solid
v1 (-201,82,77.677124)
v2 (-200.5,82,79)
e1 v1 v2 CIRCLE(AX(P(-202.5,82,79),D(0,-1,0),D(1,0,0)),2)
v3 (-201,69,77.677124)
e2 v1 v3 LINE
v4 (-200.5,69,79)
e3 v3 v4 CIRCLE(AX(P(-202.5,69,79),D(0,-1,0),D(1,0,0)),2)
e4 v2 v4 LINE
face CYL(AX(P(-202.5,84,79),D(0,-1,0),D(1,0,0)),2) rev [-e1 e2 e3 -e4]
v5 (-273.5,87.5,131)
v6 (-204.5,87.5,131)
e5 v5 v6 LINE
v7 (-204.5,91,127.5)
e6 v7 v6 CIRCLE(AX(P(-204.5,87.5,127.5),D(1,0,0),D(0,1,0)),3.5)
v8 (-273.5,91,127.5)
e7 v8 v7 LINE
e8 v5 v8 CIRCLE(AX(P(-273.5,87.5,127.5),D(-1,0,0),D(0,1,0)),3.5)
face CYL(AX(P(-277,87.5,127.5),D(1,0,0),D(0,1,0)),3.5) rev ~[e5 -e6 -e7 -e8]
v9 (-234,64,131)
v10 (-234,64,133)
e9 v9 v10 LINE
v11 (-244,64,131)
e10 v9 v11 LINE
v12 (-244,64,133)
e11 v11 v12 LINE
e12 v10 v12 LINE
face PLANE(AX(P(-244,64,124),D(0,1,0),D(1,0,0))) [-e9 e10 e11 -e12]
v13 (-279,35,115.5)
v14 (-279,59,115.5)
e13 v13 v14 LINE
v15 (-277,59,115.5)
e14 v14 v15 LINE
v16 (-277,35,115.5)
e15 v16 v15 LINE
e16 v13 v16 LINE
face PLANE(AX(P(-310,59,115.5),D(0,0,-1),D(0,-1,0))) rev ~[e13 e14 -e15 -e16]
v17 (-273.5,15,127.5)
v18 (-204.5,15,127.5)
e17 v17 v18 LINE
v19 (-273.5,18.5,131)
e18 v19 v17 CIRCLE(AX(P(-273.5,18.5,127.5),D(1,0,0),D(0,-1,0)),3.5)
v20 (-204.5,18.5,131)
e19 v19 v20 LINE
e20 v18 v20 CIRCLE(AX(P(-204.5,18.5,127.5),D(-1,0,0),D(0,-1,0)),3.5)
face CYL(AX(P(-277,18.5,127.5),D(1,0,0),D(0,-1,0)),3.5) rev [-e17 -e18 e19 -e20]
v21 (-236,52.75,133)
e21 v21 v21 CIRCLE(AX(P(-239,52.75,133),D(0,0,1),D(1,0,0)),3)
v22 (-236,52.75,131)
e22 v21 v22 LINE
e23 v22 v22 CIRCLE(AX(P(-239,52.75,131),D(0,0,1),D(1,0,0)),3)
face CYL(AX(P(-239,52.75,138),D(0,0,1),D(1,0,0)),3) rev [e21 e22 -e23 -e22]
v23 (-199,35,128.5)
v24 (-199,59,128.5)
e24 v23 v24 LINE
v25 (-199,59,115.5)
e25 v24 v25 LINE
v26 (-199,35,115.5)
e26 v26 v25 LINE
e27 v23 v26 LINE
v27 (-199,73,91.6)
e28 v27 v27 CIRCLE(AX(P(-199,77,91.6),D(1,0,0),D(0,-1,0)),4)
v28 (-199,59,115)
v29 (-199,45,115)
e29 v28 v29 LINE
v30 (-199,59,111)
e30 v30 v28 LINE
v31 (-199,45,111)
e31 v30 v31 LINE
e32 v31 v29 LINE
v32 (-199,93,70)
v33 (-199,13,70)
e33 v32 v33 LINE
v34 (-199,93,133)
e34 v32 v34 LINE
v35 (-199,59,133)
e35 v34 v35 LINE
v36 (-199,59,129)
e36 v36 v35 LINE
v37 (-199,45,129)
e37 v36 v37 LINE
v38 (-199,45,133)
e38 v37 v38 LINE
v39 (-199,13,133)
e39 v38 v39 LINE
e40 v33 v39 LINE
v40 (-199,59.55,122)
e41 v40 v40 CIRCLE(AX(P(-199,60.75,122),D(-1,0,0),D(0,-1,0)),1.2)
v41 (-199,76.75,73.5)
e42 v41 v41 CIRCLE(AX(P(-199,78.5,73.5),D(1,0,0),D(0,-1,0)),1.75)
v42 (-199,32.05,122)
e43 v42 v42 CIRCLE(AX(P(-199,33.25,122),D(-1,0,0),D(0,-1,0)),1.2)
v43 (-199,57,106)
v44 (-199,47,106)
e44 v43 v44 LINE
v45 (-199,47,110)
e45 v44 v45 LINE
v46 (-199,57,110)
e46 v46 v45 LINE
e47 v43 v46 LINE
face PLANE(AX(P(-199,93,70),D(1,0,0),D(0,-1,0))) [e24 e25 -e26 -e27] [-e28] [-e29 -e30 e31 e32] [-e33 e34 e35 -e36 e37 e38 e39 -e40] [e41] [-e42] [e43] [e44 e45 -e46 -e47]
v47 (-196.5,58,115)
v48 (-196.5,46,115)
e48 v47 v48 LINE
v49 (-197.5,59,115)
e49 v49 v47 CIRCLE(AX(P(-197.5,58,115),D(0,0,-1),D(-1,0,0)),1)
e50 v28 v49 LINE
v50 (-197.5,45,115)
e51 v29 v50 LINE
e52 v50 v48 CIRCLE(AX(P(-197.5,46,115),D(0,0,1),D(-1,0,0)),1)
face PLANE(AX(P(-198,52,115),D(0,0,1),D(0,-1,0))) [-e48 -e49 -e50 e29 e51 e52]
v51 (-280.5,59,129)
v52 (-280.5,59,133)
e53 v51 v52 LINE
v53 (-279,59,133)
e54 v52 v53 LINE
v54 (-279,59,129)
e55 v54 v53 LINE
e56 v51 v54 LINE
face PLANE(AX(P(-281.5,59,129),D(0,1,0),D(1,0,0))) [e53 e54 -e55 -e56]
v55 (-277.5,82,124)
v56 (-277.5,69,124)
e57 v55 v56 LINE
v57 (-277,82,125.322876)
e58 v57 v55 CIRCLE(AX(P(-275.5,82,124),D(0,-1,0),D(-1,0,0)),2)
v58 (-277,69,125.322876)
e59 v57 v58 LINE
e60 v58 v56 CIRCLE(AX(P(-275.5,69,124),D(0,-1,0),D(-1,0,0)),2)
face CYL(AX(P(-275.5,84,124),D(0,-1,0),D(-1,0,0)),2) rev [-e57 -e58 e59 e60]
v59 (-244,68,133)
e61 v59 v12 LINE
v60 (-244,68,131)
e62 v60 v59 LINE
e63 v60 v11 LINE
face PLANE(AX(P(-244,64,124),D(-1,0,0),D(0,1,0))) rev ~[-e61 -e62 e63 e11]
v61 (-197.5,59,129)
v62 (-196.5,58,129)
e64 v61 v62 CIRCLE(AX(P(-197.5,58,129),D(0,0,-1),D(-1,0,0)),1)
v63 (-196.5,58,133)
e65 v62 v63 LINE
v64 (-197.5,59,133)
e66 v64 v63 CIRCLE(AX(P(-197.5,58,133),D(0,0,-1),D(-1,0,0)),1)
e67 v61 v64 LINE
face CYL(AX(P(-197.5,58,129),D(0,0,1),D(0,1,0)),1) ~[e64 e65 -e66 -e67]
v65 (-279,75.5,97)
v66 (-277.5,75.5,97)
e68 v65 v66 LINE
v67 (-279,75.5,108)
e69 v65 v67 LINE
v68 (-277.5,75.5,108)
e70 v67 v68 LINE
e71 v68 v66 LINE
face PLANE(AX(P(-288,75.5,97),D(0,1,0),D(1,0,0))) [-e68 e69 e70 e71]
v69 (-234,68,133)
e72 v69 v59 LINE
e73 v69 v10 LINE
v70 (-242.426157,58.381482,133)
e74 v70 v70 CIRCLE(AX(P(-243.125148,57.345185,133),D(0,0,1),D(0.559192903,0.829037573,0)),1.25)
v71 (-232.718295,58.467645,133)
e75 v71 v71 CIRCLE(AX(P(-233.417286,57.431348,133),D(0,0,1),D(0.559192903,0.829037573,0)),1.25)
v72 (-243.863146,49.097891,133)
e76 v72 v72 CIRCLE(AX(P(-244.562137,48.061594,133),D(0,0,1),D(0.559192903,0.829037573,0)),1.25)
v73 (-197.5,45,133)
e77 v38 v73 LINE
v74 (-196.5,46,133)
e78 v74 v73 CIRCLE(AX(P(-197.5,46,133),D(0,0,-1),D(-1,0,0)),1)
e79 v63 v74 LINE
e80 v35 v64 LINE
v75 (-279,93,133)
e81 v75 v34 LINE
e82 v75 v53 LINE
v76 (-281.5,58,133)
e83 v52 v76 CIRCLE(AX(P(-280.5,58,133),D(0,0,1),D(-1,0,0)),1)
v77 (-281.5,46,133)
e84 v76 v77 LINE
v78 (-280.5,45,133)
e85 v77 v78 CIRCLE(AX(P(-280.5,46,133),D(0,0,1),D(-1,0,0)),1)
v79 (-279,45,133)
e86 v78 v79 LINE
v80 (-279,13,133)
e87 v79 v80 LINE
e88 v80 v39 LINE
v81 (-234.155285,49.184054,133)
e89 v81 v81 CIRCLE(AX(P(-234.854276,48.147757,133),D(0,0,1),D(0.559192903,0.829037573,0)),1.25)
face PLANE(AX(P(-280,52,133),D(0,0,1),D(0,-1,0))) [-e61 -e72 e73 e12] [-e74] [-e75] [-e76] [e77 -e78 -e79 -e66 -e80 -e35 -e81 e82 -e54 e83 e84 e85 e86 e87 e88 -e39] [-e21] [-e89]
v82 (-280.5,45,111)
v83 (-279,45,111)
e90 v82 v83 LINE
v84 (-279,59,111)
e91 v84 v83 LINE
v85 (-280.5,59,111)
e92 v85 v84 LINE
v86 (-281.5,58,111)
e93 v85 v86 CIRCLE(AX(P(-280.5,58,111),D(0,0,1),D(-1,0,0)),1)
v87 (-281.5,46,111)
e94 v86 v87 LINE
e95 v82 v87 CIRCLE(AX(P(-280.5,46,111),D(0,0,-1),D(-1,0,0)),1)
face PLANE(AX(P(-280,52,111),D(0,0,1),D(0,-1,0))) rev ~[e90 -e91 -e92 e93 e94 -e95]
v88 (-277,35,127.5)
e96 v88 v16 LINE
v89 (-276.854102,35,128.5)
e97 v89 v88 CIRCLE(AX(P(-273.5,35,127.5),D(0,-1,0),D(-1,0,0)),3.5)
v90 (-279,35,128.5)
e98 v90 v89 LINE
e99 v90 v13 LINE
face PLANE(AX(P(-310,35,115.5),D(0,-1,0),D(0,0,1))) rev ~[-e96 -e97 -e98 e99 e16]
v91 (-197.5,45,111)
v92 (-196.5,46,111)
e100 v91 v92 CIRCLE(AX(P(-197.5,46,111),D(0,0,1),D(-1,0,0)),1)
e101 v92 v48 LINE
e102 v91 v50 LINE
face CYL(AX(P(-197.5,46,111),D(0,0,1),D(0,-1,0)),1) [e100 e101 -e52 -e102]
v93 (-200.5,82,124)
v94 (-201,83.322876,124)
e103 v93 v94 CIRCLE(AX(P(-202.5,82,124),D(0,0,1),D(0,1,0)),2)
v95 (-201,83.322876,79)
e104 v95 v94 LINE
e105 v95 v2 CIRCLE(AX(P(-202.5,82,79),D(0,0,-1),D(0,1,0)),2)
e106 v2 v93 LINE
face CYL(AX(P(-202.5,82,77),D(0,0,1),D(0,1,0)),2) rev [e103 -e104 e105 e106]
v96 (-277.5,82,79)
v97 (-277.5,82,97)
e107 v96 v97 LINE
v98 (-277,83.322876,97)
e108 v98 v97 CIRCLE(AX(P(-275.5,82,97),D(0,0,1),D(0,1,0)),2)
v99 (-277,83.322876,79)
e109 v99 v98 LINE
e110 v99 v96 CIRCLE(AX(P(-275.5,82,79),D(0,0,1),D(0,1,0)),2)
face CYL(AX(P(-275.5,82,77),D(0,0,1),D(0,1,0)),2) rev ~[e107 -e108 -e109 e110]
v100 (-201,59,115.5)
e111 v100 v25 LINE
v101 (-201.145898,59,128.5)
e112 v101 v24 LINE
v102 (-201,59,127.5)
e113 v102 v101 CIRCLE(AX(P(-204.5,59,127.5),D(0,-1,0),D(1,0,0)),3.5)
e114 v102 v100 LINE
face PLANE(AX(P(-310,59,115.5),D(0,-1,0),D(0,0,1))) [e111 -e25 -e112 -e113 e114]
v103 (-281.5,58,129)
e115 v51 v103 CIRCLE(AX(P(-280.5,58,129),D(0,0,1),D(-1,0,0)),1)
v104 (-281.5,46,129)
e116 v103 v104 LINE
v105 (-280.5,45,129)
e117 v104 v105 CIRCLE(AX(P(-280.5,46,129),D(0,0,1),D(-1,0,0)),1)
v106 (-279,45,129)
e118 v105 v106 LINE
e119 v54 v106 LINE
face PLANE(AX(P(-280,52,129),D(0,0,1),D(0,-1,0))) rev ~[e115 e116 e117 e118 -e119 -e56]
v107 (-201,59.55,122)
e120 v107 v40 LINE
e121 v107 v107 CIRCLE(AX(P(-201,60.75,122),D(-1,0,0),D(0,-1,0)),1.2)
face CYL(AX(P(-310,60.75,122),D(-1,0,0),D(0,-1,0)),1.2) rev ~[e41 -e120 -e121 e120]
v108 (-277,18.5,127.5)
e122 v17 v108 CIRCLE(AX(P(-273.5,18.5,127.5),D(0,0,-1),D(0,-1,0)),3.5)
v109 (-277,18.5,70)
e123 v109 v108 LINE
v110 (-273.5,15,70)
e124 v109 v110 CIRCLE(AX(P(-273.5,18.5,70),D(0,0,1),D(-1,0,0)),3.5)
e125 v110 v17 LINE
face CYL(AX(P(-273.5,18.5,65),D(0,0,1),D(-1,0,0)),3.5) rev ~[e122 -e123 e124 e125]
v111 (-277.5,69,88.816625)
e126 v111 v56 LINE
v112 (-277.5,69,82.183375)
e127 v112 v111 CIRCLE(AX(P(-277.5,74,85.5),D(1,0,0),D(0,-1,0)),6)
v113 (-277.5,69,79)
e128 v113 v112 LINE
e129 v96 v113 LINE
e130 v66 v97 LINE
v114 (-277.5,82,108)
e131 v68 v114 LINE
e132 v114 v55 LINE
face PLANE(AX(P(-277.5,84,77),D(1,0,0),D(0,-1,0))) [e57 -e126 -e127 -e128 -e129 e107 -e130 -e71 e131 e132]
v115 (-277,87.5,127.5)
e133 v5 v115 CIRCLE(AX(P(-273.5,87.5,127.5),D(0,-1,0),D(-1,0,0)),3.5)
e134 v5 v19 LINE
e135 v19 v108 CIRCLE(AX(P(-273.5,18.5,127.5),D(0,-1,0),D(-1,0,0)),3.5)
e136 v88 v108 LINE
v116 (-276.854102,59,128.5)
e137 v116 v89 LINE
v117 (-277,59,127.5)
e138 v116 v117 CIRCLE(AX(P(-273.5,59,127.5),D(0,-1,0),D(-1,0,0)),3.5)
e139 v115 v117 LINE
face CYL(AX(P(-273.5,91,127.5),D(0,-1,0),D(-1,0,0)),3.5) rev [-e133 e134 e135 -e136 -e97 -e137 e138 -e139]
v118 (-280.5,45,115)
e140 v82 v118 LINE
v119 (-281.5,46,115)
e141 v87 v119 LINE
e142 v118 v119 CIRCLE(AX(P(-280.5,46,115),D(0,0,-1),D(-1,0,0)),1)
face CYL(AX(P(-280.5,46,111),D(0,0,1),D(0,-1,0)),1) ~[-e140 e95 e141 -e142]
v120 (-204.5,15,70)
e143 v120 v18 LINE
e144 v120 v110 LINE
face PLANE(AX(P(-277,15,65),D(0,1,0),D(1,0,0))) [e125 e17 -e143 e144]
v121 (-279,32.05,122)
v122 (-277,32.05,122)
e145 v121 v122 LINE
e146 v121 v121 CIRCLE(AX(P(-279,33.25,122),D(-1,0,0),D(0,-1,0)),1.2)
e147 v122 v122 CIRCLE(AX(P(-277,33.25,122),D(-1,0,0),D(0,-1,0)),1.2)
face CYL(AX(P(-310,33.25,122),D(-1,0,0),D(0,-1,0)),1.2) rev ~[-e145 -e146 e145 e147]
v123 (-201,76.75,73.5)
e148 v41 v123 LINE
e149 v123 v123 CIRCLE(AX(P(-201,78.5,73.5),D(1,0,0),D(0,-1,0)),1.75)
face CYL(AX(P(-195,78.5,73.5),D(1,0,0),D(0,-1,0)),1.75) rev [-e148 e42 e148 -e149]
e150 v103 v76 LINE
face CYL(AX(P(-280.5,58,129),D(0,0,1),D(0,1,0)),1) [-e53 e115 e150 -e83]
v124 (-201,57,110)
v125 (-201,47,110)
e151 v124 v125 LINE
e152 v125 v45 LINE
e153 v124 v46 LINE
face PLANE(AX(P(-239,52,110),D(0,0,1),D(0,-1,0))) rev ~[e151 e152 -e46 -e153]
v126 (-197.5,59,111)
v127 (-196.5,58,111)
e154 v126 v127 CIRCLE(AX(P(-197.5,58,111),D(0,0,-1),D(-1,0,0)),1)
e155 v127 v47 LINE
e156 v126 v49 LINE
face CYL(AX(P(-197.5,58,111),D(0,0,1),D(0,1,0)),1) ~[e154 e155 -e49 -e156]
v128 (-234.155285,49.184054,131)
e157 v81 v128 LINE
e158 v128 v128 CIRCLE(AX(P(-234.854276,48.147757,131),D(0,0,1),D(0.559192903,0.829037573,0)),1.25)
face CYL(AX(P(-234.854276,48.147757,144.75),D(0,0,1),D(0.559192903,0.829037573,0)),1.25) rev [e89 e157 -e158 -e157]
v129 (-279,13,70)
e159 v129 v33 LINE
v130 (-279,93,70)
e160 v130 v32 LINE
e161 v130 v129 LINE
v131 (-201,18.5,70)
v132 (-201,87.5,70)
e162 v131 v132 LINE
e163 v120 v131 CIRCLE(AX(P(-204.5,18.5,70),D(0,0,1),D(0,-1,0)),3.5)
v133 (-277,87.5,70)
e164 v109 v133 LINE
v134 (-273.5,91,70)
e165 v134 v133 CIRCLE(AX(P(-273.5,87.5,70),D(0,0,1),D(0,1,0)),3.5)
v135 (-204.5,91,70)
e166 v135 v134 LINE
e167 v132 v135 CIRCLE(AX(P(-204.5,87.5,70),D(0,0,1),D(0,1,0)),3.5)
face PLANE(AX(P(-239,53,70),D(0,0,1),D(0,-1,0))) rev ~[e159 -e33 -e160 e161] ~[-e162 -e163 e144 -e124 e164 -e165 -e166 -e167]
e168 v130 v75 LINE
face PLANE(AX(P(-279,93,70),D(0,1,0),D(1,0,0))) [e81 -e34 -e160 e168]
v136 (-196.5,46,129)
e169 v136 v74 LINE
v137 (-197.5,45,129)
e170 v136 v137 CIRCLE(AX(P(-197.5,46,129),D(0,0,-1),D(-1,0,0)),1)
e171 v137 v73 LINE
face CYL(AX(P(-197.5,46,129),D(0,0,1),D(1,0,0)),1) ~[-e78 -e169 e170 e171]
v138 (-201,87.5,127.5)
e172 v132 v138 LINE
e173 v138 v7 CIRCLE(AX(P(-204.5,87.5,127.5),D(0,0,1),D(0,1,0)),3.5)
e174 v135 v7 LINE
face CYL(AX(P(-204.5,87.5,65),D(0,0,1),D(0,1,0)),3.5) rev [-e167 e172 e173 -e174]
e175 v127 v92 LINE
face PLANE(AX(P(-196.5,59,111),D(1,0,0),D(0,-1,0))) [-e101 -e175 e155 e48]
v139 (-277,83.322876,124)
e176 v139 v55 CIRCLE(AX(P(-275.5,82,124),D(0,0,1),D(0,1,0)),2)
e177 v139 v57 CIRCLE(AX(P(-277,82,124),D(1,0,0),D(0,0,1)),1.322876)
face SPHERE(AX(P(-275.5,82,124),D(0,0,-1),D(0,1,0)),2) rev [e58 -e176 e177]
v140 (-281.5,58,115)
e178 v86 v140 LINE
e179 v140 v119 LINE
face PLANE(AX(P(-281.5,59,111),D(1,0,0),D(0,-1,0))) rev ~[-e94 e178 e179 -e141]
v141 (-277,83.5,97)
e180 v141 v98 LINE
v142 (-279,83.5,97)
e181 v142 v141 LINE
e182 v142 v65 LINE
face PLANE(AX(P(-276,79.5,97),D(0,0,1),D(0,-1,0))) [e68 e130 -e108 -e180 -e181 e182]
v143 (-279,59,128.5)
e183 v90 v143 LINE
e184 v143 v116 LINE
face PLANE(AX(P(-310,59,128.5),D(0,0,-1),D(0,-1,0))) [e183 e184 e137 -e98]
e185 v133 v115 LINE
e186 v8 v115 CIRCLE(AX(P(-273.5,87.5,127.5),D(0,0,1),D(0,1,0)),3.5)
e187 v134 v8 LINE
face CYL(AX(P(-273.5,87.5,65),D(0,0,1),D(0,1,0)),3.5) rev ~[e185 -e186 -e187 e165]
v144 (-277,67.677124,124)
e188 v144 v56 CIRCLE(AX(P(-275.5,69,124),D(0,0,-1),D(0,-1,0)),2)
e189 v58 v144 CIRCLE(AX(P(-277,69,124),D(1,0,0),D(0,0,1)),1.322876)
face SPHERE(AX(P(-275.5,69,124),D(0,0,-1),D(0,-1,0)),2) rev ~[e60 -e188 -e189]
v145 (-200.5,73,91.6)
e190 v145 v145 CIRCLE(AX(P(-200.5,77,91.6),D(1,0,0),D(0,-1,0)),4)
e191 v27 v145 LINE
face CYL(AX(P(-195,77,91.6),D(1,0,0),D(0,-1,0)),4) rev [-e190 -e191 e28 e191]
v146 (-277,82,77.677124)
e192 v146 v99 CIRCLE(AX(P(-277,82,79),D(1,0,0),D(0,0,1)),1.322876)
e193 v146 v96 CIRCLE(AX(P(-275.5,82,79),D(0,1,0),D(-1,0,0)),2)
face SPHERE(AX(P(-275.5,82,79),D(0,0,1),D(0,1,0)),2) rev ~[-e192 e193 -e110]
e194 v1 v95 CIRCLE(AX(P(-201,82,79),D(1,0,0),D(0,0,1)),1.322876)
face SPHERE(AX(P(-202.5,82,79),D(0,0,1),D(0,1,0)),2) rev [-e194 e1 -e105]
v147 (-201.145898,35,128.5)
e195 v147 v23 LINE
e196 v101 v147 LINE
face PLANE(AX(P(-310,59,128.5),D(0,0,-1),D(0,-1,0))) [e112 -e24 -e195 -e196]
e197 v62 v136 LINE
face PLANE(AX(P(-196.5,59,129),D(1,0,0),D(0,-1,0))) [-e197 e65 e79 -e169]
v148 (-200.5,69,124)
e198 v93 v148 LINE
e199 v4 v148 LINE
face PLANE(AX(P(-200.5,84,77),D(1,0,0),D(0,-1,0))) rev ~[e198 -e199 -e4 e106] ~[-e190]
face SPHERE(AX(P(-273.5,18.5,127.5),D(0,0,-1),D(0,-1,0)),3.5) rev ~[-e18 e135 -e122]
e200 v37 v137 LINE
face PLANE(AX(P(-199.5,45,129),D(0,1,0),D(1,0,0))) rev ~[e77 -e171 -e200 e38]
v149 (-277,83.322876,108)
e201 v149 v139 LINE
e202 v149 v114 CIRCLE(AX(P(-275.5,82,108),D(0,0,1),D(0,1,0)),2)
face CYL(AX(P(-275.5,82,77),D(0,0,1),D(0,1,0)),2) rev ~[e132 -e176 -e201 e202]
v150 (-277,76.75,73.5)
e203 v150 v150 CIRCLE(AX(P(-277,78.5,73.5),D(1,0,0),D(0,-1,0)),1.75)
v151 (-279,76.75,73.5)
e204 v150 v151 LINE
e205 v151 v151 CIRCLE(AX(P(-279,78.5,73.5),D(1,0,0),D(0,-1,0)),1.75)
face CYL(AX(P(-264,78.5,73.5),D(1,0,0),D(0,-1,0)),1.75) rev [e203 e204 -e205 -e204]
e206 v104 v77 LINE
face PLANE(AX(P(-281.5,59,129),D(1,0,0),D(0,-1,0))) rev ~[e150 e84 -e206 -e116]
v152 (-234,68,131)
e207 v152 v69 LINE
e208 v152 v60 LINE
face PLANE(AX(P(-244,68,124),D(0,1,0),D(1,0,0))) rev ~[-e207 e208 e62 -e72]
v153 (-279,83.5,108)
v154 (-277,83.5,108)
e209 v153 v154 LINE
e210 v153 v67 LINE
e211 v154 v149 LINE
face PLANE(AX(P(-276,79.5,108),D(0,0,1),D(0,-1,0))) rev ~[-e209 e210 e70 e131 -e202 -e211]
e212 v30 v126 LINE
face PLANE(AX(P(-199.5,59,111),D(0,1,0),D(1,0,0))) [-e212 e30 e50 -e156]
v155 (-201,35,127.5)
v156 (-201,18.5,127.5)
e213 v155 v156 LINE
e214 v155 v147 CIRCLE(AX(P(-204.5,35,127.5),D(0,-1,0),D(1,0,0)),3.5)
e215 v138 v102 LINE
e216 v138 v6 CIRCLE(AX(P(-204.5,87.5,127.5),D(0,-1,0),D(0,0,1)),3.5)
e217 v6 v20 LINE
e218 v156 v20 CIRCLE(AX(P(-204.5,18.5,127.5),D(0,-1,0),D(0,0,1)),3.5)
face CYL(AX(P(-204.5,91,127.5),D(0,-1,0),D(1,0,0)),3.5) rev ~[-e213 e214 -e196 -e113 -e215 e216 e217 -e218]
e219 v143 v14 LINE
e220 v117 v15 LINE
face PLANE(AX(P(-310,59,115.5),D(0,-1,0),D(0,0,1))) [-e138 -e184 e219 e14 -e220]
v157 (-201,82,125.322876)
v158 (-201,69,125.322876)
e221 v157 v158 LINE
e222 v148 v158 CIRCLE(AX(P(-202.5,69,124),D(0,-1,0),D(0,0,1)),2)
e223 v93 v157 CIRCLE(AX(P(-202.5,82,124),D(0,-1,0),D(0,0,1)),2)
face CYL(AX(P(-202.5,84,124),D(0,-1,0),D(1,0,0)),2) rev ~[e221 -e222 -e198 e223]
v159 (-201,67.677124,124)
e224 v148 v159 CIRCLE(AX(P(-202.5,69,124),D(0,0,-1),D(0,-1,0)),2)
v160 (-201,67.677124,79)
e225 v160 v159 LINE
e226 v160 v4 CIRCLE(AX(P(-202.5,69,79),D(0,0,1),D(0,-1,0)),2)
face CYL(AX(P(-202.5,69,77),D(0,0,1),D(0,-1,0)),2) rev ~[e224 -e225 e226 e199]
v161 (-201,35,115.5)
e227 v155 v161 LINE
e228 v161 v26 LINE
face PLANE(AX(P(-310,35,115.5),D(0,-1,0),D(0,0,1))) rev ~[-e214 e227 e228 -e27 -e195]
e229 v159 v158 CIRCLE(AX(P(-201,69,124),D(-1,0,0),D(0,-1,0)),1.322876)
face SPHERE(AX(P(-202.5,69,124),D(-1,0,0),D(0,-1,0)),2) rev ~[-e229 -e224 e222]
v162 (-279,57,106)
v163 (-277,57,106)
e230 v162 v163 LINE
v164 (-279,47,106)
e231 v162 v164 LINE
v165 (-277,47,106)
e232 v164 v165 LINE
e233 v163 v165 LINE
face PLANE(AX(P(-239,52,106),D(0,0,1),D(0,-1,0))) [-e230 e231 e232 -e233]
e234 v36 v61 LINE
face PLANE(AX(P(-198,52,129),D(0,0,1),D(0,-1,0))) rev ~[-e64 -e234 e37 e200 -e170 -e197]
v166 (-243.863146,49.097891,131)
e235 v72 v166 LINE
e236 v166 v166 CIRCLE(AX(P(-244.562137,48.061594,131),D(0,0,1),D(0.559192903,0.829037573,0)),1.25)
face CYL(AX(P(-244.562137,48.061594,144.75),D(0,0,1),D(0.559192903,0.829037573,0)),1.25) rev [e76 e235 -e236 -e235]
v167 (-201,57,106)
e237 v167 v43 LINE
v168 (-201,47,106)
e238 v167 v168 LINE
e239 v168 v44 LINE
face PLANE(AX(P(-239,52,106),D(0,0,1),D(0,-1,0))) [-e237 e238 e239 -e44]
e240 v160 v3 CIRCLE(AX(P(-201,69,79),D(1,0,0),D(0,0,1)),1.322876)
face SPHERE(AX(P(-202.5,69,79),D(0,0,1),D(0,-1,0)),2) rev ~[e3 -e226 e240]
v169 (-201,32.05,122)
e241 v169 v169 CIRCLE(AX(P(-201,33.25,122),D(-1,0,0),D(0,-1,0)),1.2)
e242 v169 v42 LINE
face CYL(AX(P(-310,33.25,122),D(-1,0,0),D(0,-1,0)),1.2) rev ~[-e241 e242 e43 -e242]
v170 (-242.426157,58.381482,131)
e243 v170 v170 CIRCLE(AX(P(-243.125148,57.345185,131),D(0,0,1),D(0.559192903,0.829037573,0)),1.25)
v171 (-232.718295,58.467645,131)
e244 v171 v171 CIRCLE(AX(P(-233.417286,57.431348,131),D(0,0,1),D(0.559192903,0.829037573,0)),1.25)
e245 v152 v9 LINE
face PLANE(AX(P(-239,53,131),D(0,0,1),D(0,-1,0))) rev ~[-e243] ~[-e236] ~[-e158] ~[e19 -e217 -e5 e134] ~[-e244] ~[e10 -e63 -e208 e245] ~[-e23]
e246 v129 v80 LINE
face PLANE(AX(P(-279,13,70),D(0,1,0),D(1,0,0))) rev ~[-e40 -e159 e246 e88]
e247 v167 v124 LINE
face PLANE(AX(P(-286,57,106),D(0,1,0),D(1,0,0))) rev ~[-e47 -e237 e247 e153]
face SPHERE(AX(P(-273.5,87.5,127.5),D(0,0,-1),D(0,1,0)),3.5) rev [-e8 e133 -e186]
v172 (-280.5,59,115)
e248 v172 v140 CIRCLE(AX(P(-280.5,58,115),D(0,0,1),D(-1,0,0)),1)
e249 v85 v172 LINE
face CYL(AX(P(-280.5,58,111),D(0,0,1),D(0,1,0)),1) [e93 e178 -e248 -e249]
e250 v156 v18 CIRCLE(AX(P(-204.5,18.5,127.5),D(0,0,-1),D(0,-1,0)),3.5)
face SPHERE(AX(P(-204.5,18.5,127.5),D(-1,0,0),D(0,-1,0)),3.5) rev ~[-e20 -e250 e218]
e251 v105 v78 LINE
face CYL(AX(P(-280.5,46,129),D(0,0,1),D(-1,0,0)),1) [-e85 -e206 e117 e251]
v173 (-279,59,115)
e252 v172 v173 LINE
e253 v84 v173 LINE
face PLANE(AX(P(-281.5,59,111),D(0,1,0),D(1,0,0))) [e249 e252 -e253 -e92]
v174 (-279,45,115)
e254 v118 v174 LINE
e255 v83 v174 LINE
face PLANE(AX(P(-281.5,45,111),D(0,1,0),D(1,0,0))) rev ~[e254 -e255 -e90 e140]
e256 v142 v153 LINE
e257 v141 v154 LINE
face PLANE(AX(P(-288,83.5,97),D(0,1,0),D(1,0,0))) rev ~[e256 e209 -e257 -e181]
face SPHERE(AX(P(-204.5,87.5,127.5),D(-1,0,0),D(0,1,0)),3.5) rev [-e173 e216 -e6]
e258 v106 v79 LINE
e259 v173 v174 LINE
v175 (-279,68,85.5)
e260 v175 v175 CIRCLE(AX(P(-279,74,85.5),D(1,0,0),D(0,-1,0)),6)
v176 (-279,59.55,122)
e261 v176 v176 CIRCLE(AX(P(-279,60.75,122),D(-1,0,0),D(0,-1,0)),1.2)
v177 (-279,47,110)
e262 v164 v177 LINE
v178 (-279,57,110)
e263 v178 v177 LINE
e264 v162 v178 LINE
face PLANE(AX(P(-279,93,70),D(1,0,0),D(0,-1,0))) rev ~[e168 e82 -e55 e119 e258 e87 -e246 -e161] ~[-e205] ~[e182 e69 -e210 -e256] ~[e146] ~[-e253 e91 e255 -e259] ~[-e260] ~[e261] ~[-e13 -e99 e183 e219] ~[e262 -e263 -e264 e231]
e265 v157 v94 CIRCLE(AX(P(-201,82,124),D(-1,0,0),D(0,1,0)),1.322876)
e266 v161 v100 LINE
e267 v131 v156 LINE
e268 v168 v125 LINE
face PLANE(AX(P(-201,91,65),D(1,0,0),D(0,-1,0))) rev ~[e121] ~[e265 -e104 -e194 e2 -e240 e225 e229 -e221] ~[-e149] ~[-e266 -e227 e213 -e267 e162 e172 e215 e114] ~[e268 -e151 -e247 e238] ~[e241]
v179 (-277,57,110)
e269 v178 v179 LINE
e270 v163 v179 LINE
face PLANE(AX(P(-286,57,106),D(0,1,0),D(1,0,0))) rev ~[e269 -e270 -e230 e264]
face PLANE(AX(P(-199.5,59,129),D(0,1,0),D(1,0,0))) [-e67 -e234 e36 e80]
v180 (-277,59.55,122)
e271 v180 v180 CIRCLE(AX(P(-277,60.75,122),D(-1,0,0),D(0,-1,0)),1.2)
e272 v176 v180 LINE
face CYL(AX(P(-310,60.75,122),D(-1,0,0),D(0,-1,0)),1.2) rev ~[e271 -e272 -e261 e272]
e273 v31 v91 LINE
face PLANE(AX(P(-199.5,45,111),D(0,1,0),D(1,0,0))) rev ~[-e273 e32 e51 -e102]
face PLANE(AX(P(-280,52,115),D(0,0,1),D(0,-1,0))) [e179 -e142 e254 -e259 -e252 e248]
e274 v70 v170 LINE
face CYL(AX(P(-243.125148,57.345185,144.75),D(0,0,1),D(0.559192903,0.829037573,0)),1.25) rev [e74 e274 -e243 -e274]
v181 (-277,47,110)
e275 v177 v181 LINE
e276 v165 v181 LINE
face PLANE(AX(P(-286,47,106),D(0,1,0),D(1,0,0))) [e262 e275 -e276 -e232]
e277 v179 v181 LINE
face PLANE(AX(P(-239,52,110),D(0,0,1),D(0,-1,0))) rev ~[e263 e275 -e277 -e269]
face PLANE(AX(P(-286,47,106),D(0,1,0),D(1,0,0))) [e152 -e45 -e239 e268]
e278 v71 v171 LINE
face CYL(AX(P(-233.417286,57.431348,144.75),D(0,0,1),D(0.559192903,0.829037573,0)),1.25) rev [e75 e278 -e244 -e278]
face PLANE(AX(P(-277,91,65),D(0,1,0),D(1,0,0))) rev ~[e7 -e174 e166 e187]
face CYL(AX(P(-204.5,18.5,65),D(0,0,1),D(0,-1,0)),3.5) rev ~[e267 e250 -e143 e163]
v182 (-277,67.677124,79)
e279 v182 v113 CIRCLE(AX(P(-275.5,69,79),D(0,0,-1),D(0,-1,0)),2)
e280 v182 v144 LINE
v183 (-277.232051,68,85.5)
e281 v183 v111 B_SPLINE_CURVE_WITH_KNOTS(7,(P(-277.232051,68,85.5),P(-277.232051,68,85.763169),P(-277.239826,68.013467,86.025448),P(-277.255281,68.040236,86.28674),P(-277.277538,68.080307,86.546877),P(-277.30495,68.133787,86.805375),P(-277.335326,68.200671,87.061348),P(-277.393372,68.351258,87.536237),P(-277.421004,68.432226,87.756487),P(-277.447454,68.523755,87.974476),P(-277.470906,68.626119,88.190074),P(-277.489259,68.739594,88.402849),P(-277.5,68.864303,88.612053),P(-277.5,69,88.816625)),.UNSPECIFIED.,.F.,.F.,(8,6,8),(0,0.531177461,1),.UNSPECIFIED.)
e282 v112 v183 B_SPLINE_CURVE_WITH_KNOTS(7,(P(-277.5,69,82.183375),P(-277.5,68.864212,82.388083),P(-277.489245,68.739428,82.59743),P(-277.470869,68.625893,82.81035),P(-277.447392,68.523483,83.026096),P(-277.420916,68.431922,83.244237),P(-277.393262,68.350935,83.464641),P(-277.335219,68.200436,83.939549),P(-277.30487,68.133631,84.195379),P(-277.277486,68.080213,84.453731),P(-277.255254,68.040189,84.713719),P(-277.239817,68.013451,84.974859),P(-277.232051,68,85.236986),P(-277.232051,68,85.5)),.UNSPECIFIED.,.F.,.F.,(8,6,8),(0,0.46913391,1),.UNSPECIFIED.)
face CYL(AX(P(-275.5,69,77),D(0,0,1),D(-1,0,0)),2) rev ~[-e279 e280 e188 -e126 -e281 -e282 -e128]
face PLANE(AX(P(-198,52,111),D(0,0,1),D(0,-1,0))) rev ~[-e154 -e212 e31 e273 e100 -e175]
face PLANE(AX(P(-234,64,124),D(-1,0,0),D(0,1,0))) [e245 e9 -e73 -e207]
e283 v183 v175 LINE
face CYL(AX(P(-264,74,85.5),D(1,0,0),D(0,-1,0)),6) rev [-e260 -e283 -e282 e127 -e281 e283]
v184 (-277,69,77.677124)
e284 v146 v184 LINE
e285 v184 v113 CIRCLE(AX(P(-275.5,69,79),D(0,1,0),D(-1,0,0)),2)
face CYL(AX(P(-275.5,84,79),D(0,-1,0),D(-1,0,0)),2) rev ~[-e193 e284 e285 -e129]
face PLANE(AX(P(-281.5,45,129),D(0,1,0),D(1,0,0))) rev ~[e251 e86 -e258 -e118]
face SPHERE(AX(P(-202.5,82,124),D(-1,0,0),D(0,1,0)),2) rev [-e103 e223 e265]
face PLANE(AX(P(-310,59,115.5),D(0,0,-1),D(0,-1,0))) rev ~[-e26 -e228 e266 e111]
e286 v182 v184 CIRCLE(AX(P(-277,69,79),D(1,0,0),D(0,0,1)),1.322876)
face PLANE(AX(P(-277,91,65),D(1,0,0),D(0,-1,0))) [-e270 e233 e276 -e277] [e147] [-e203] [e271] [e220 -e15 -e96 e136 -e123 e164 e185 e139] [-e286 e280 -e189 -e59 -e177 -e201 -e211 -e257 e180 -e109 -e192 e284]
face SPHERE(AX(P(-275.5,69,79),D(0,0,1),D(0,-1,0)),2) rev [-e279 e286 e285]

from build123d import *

# Parameters (mm, degrees)
BOX066_W                  = 10
BOX066_H                  = 4
BOX066_DEPTH              = 10
CYLINDER084_R             = 3
CYLINDER084_DEPTH         = 13
CYLINDER084_ROLL_ANGLE    = 90
CYLINDER087_R             = 1.25
CYLINDER087_DEPTH         = 22
CYLINDER087_PITCH_ANGLE   = 90
CYLINDER088_R             = 1.25
CYLINDER088_DEPTH         = 22
CYLINDER088_PITCH_ANGLE   = 90
CYLINDER086_R             = 1.25
CYLINDER086_DEPTH         = 22
CYLINDER086_PITCH_ANGLE   = 90
CYLINDER085_R             = 1.25
CYLINDER085_DEPTH         = 22
CYLINDER085_PITCH_ANGLE   = 90
FUSION063_ROLL_ANGLE      = 34
FUSION063_PLACEMENT_ANGLE = -90
FUSION064_ROLL_ANGLE      = 90
BOX065_W                  = 10
BOX065_H                  = 94
BOX065_DEPTH              = 4
BOX062_W                  = 14
BOX062_H                  = 3
BOX062_DEPTH              = 4
BOX061_W                  = 14
BOX061_H                  = 3
BOX061_DEPTH              = 4
BOX063_W                  = 14
BOX063_H                  = 3
BOX063_DEPTH              = 4
BOX064_W                  = 14
BOX064_H                  = 3
BOX064_DEPTH              = 4
SKETCH017_R               = 1.2
SKETCH017_W               = 24
SKETCH017_H               = 13
PAD012_DEPTH              = 140
CYLINDER080_R             = 6
CYLINDER080_DEPTH         = 31
CYLINDER080_ROLL_ANGLE    = 90
CYLINDER078_R             = 1.75
CYLINDER078_DEPTH         = 31
CYLINDER078_ROLL_ANGLE    = 90
BOX059_W                  = 17
BOX059_H                  = 77
BOX059_DEPTH              = 49
FILLET018013005_R         = 2
CYLINDER083_R             = 4
CYLINDER083_DEPTH         = 31
CYLINDER083_ROLL_ANGLE    = 90
CYLINDER079_R             = 1.75
CYLINDER079_DEPTH         = 31
CYLINDER079_ROLL_ANGLE    = 90
BOX058_W                  = 8
BOX058_H                  = 24
BOX058_DEPTH              = 11
BOX057_W                  = 76
BOX057_H                  = 76
BOX057_DEPTH              = 66
FILLET018013003_R         = 3.5
BOX060_W                  = 80
BOX060_H                  = 80
BOX060_DEPTH              = 63
FILLET018013006_R         = 1
CLONE024_PLACEMENT_ANGLE  = -90


with BuildPart() as cubo012:
    # Box066 → Box066 (new body)
    with BuildSketch(Plane(origin=(-244, 64, 124), x_dir=(1, 0, 0), z_dir=(0, 0, 1))):
        with Locations((5, 2)):
            Rectangle(BOX066_W, BOX066_H)
    extrude(amount=BOX066_DEPTH)


with BuildPart() as cilindro019:
    # Cylinder084 → Cylinder084 (new body)
    with BuildSketch(Plane.XY):
        Circle(CYLINDER084_R)
    extrude(amount=CYLINDER084_DEPTH)


with BuildPart() as cilindro019_1:
    # Cylinder084 roll: moved
    add(cilindro019.part.rotate(Axis((0, 0, 0), (1, 0, 0)), CYLINDER084_ROLL_ANGLE))


with BuildPart() as cilindro019_2:
    # Cylinder084 placement: moved
    add(cilindro019_1.part.moved(Location((17.25, -6, 120))))


with BuildPart() as cilindro022:
    # Cylinder087 → Cylinder087 (new body)
    with BuildSketch(Plane.XY):
        Circle(CYLINDER087_R)
    extrude(amount=CYLINDER087_DEPTH)


with BuildPart() as cilindro022_1:
    # Cylinder087 pitch: moved
    add(cilindro022.part.rotate(Axis((0, 0, 0), (0, 1, 0)), CYLINDER087_PITCH_ANGLE))


with BuildPart() as cilindro022_2:
    # Cylinder087 placement: moved
    add(cilindro022_1.part.moved(Location((20.25, -38, 124.25))))


with BuildPart() as cilindro023:
    # Cylinder088 → Cylinder088 (new body)
    with BuildSketch(Plane.XY):
        Circle(CYLINDER088_R)
    extrude(amount=CYLINDER088_DEPTH)


with BuildPart() as cilindro023_1:
    # Cylinder088 pitch: moved
    add(cilindro023.part.rotate(Axis((0, 0, 0), (0, 1, 0)), CYLINDER088_PITCH_ANGLE))


with BuildPart() as cilindro023_2:
    # Cylinder088 placement: moved
    add(cilindro023_1.part.moved(Location((20.25, -26, 127.25))))


with BuildPart() as cilindro021:
    # Cylinder086 → Cylinder086 (new body)
    with BuildSketch(Plane.XY):
        Circle(CYLINDER086_R)
    extrude(amount=CYLINDER086_DEPTH)


with BuildPart() as cilindro021_1:
    # Cylinder086 pitch: moved
    add(cilindro021.part.rotate(Axis((0, 0, 0), (0, 1, 0)), CYLINDER086_PITCH_ANGLE))


with BuildPart() as cilindro021_2:
    # Cylinder086 placement: moved
    add(cilindro021_1.part.moved(Location((20.25, -30, 118.75))))


with BuildPart() as fusion064:
    # Cylinder085 → Cylinder085 (new body)
    with BuildSketch(Plane.XY):
        Circle(CYLINDER085_R)
    extrude(amount=CYLINDER085_DEPTH)


with BuildPart() as fusion064_1:
    # Cylinder085 pitch: moved
    add(fusion064.part.rotate(Axis((0, 0, 0), (0, 1, 0)), CYLINDER085_PITCH_ANGLE))


with BuildPart() as fusion064_2:
    # Cylinder085 placement: moved
    add(fusion064_1.part.moved(Location((20.25, -34, 132.75))))

    # Fusion063: union Cilindro022, Cilindro023, Cilindro021
    add(cilindro022_2.part)
    add(cilindro023_2.part)
    add(cilindro021_2.part)


with BuildPart() as fusion064_3:
    # Fusion063 roll: moved
    add(fusion064_2.part.rotate(Axis((0, 0, 0), (1, 0, 0)), FUSION063_ROLL_ANGLE))


with BuildPart() as fusion064_4:
    # Fusion063 placement: moved
    add(fusion064_3.part.moved(Location((114.107998, 21, 33.646227))).rotate(Axis((114.107998, 21, 33.646227), (0, 0, 1)), FUSION063_PLACEMENT_ANGLE))

    # Fusion064: union Cilindro019
    add(cilindro019_2.part)


with BuildPart() as fusion064_5:
    # Fusion064 roll: moved
    add(fusion064_4.part.rotate(Axis((0, 0, 0), (1, 0, 0)), FUSION064_ROLL_ANGLE))


with BuildPart() as fusion064_6:
    # Fusion064 placement: moved
    add(fusion064_5.part.moved(Location((-256.25, 172.75, 144))))


with BuildPart() as cubo:
    # Box065 → Box065 (new body)
    with BuildSketch(Plane(origin=(13, -11, 104), x_dir=(1, 0, 0), z_dir=(0, 0, 1))):
        with Locations((5, 47)):
            Rectangle(BOX065_W, BOX065_H)
    extrude(amount=BOX065_DEPTH)


with BuildPart() as cubo009:
    # Box062 → Box062 (new body)
    with BuildSketch(Plane(origin=(11, 75.5, 127), x_dir=(1, 0, 0), z_dir=(0, 0, 1))):
        with Locations((7, 1.5)):
            Rectangle(BOX062_W, BOX062_H)
    extrude(amount=BOX062_DEPTH)


with BuildPart() as cubo008:
    # Box061 → Box061 (new body)
    with BuildSketch(Plane(origin=(11, 75.5, 109), x_dir=(1, 0, 0), z_dir=(0, 0, 1))):
        with Locations((7, 1.5)):
            Rectangle(BOX061_W, BOX061_H)
    extrude(amount=BOX061_DEPTH)


with BuildPart() as cubo010:
    # Box063 → Box063 (new body)
    with BuildSketch(Plane(origin=(11, -6.5, 109), x_dir=(1, 0, 0), z_dir=(0, 0, 1))):
        with Locations((7, 1.5)):
            Rectangle(BOX063_W, BOX063_H)
    extrude(amount=BOX063_DEPTH)


with BuildPart() as cubo011:
    # Box064 → Box064 (new body)
    with BuildSketch(Plane(origin=(11, -6.5, 127), x_dir=(1, 0, 0), z_dir=(0, 0, 1))):
        with Locations((7, 1.5)):
            Rectangle(BOX064_W, BOX064_H)
    extrude(amount=BOX064_DEPTH)


with BuildPart() as pad012:
    # Sketch017 → Pad012 (new body)
    with BuildSketch(Plane(origin=(-0.25, -35, 0), x_dir=(1, 0, 0), z_dir=(0, -1, 0))):
        with Locations((37, 120)):
            Circle(SKETCH017_R)
        with Locations((9.5, 120)):
            Circle(SKETCH017_R)
        with Locations((23.25, 120)):
            Rectangle(SKETCH017_W, SKETCH017_H)
    extrude(amount=-PAD012_DEPTH)


with BuildPart() as cylinder107:
    # Cylinder080 → Cylinder080 (new body)
    with BuildSketch(Plane.XY):
        Circle(CYLINDER080_R)
    extrude(amount=CYLINDER080_DEPTH)


with BuildPart() as cylinder107_1:
    # Cylinder080 roll: moved
    add(cylinder107.part.rotate(Axis((0, 0, 0), (1, 0, 0)), CYLINDER080_ROLL_ANGLE))


with BuildPart() as cylinder107_2:
    # Cylinder080 placement: moved
    add(cylinder107_1.part.moved(Location((-4, 11, 83.5))))


with BuildPart() as cylinder105:
    # Cylinder078 → Cylinder078 (new body)
    with BuildSketch(Plane.XY):
        Circle(CYLINDER078_R)
    extrude(amount=CYLINDER078_DEPTH)


with BuildPart() as cylinder105_1:
    # Cylinder078 roll: moved
    add(cylinder105.part.rotate(Axis((0, 0, 0), (1, 0, 0)), CYLINDER078_ROLL_ANGLE))


with BuildPart() as cylinder105_2:
    # Cylinder078 placement: moved
    add(cylinder105_1.part.moved(Location((-8.5, 11, 71.5))))


with BuildPart() as fillet018013005:
    # Box059 → Box059 (new body)
    with BuildSketch(Plane(origin=(-14, -2.5, 75), x_dir=(1, 0, 0), z_dir=(0, 0, 1))):
        with Locations((8.5, 38.5)):
            Rectangle(BOX059_W, BOX059_H)
    extrude(amount=BOX059_DEPTH)

    # Fillet018013005
    fillet018013005_edges = [fillet018013005.edges().sort_by_distance(p)[0] for p in [
        (-14, -2.5, 99.5),
        (-14, 36, 124),
        (-14, 74.5, 99.5),
        (-14, 36, 75),
        (3, -2.5, 99.5),
        (3, 36, 124),
        (3, 74.5, 99.5),
        (3, 36, 75),
        (-5.5, -2.5, 75),
        (-5.5, -2.5, 124),
        (-5.5, 74.5, 75),
        (-5.5, 74.5, 124),
    ]]
    fillet(fillet018013005_edges, radius=FILLET018013005_R)


with BuildPart() as cylinder108:
    # Cylinder083 → Cylinder083 (new body)
    with BuildSketch(Plane.XY):
        Circle(CYLINDER083_R)
    extrude(amount=CYLINDER083_DEPTH)


with BuildPart() as cylinder108_1:
    # Cylinder083 roll: moved
    add(cylinder108.part.rotate(Axis((0, 0, 0), (1, 0, 0)), CYLINDER083_ROLL_ANGLE))


with BuildPart() as cylinder108_2:
    # Cylinder083 placement: moved
    add(cylinder108_1.part.moved(Location((-7, 80, 89.6))))


with BuildPart() as cylinder106:
    # Cylinder079 → Cylinder079 (new body)
    with BuildSketch(Plane.XY):
        Circle(CYLINDER079_R)
    extrude(amount=CYLINDER079_DEPTH)


with BuildPart() as cylinder106_1:
    # Cylinder079 roll: moved
    add(cylinder106.part.rotate(Axis((0, 0, 0), (1, 0, 0)), CYLINDER079_ROLL_ANGLE))


with BuildPart() as cylinder106_2:
    # Cylinder079 placement: moved
    add(cylinder106_1.part.moved(Location((-8.5, 80, 71.5))))


with BuildPart() as fusion061:
    # Box058 → Box058 (new body)
    with BuildSketch(Plane(origin=(-13.5, -13, 95), x_dir=(1, 0, 0), z_dir=(0, 0, 1))):
        with Locations((4, 12)):
            Rectangle(BOX058_W, BOX058_H)
    extrude(amount=BOX058_DEPTH)

    # Fusion061: union Cylinder107, Cylinder105, Fillet018013005, Cylinder108, Cylinder106
    add(cylinder107_2.part)
    add(cylinder105_2.part)
    add(fillet018013005.part)
    add(cylinder108_2.part)
    add(cylinder106_2.part)


with BuildPart() as fillet018013003:
    # Box057 → Box057 (new body)
    with BuildSketch(Plane(origin=(-21, -2, 87), x_dir=(1, 0, 0), z_dir=(0, 0, 1))):
        with Locations((38, 38)):
            Rectangle(BOX057_W, BOX057_H)
    extrude(amount=BOX057_DEPTH)

    # Fillet018013003
    fillet018013003_edges = [fillet018013003.edges().sort_by_distance(p)[0] for p in [
        (-21, -2, 120),
        (-21, 36, 153),
        (-21, 74, 120),
        (55, -2, 120),
        (55, 36, 153),
        (55, 74, 120),
        (17, -2, 153),
        (17, 74, 153),
    ]]
    fillet(fillet018013003_edges, radius=FILLET018013003_R)


with BuildPart() as fillet018013003_1:
    # Fillet018013003 placement: moved
    add(fillet018013003.part.moved(Location((0, 0, -24))))


with BuildPart() as body_yaw_head:
    # Box060 → Box060 (new body)
    with BuildSketch(Plane(origin=(-23, -4, 68), x_dir=(1, 0, 0), z_dir=(0, 0, 1))):
        with Locations((40, 40)):
            Rectangle(BOX060_W, BOX060_H)
    extrude(amount=BOX060_DEPTH)

    # Cut103: cut Fillet018013003
    add(fillet018013003_1.part, mode=Mode.SUBTRACT)

    # Cut104: cut Fusion061
    add(fusion061.part, mode=Mode.SUBTRACT)

    # Cut105: cut Pad012
    add(pad012.part, mode=Mode.SUBTRACT)

    # Fusion062: union Cubo009, Cubo008, Cubo010, Cubo011
    add(cubo009.part)
    add(cubo008.part)
    add(cubo010.part)
    add(cubo011.part)

    # Fillet018013006
    fillet018013006_edges = [body_yaw_head.edges().sort_by_distance(p)[0] for p in [
        (25, -6.5, 129),
        (11, -6.5, 129),
        (11, -6.5, 111),
        (25, -6.5, 111),
        (25, 78.5, 129),
        (11, 78.5, 129),
        (25, 78.5, 111),
        (11, 78.5, 111),
    ]]
    fillet(fillet018013006_edges, radius=FILLET018013006_R)

    # Cut107: cut Cubo
    add(cubo.part, mode=Mode.SUBTRACT)


with BuildPart() as body_yaw_head_1:
    # Clone024 placement: moved
    add(body_yaw_head.part.moved(Location((-275, 70, 2))).rotate(Axis((-275, 70, 2), (0, 0, 1)), CLONE024_PLACEMENT_ANGLE))

    # Cut108: cut Fusion064
    add(fusion064_6.part, mode=Mode.SUBTRACT)

    # Cut109: cut Cubo012
    add(cubo012.part, mode=Mode.SUBTRACT)


solid = body_yaw_head_1.part
